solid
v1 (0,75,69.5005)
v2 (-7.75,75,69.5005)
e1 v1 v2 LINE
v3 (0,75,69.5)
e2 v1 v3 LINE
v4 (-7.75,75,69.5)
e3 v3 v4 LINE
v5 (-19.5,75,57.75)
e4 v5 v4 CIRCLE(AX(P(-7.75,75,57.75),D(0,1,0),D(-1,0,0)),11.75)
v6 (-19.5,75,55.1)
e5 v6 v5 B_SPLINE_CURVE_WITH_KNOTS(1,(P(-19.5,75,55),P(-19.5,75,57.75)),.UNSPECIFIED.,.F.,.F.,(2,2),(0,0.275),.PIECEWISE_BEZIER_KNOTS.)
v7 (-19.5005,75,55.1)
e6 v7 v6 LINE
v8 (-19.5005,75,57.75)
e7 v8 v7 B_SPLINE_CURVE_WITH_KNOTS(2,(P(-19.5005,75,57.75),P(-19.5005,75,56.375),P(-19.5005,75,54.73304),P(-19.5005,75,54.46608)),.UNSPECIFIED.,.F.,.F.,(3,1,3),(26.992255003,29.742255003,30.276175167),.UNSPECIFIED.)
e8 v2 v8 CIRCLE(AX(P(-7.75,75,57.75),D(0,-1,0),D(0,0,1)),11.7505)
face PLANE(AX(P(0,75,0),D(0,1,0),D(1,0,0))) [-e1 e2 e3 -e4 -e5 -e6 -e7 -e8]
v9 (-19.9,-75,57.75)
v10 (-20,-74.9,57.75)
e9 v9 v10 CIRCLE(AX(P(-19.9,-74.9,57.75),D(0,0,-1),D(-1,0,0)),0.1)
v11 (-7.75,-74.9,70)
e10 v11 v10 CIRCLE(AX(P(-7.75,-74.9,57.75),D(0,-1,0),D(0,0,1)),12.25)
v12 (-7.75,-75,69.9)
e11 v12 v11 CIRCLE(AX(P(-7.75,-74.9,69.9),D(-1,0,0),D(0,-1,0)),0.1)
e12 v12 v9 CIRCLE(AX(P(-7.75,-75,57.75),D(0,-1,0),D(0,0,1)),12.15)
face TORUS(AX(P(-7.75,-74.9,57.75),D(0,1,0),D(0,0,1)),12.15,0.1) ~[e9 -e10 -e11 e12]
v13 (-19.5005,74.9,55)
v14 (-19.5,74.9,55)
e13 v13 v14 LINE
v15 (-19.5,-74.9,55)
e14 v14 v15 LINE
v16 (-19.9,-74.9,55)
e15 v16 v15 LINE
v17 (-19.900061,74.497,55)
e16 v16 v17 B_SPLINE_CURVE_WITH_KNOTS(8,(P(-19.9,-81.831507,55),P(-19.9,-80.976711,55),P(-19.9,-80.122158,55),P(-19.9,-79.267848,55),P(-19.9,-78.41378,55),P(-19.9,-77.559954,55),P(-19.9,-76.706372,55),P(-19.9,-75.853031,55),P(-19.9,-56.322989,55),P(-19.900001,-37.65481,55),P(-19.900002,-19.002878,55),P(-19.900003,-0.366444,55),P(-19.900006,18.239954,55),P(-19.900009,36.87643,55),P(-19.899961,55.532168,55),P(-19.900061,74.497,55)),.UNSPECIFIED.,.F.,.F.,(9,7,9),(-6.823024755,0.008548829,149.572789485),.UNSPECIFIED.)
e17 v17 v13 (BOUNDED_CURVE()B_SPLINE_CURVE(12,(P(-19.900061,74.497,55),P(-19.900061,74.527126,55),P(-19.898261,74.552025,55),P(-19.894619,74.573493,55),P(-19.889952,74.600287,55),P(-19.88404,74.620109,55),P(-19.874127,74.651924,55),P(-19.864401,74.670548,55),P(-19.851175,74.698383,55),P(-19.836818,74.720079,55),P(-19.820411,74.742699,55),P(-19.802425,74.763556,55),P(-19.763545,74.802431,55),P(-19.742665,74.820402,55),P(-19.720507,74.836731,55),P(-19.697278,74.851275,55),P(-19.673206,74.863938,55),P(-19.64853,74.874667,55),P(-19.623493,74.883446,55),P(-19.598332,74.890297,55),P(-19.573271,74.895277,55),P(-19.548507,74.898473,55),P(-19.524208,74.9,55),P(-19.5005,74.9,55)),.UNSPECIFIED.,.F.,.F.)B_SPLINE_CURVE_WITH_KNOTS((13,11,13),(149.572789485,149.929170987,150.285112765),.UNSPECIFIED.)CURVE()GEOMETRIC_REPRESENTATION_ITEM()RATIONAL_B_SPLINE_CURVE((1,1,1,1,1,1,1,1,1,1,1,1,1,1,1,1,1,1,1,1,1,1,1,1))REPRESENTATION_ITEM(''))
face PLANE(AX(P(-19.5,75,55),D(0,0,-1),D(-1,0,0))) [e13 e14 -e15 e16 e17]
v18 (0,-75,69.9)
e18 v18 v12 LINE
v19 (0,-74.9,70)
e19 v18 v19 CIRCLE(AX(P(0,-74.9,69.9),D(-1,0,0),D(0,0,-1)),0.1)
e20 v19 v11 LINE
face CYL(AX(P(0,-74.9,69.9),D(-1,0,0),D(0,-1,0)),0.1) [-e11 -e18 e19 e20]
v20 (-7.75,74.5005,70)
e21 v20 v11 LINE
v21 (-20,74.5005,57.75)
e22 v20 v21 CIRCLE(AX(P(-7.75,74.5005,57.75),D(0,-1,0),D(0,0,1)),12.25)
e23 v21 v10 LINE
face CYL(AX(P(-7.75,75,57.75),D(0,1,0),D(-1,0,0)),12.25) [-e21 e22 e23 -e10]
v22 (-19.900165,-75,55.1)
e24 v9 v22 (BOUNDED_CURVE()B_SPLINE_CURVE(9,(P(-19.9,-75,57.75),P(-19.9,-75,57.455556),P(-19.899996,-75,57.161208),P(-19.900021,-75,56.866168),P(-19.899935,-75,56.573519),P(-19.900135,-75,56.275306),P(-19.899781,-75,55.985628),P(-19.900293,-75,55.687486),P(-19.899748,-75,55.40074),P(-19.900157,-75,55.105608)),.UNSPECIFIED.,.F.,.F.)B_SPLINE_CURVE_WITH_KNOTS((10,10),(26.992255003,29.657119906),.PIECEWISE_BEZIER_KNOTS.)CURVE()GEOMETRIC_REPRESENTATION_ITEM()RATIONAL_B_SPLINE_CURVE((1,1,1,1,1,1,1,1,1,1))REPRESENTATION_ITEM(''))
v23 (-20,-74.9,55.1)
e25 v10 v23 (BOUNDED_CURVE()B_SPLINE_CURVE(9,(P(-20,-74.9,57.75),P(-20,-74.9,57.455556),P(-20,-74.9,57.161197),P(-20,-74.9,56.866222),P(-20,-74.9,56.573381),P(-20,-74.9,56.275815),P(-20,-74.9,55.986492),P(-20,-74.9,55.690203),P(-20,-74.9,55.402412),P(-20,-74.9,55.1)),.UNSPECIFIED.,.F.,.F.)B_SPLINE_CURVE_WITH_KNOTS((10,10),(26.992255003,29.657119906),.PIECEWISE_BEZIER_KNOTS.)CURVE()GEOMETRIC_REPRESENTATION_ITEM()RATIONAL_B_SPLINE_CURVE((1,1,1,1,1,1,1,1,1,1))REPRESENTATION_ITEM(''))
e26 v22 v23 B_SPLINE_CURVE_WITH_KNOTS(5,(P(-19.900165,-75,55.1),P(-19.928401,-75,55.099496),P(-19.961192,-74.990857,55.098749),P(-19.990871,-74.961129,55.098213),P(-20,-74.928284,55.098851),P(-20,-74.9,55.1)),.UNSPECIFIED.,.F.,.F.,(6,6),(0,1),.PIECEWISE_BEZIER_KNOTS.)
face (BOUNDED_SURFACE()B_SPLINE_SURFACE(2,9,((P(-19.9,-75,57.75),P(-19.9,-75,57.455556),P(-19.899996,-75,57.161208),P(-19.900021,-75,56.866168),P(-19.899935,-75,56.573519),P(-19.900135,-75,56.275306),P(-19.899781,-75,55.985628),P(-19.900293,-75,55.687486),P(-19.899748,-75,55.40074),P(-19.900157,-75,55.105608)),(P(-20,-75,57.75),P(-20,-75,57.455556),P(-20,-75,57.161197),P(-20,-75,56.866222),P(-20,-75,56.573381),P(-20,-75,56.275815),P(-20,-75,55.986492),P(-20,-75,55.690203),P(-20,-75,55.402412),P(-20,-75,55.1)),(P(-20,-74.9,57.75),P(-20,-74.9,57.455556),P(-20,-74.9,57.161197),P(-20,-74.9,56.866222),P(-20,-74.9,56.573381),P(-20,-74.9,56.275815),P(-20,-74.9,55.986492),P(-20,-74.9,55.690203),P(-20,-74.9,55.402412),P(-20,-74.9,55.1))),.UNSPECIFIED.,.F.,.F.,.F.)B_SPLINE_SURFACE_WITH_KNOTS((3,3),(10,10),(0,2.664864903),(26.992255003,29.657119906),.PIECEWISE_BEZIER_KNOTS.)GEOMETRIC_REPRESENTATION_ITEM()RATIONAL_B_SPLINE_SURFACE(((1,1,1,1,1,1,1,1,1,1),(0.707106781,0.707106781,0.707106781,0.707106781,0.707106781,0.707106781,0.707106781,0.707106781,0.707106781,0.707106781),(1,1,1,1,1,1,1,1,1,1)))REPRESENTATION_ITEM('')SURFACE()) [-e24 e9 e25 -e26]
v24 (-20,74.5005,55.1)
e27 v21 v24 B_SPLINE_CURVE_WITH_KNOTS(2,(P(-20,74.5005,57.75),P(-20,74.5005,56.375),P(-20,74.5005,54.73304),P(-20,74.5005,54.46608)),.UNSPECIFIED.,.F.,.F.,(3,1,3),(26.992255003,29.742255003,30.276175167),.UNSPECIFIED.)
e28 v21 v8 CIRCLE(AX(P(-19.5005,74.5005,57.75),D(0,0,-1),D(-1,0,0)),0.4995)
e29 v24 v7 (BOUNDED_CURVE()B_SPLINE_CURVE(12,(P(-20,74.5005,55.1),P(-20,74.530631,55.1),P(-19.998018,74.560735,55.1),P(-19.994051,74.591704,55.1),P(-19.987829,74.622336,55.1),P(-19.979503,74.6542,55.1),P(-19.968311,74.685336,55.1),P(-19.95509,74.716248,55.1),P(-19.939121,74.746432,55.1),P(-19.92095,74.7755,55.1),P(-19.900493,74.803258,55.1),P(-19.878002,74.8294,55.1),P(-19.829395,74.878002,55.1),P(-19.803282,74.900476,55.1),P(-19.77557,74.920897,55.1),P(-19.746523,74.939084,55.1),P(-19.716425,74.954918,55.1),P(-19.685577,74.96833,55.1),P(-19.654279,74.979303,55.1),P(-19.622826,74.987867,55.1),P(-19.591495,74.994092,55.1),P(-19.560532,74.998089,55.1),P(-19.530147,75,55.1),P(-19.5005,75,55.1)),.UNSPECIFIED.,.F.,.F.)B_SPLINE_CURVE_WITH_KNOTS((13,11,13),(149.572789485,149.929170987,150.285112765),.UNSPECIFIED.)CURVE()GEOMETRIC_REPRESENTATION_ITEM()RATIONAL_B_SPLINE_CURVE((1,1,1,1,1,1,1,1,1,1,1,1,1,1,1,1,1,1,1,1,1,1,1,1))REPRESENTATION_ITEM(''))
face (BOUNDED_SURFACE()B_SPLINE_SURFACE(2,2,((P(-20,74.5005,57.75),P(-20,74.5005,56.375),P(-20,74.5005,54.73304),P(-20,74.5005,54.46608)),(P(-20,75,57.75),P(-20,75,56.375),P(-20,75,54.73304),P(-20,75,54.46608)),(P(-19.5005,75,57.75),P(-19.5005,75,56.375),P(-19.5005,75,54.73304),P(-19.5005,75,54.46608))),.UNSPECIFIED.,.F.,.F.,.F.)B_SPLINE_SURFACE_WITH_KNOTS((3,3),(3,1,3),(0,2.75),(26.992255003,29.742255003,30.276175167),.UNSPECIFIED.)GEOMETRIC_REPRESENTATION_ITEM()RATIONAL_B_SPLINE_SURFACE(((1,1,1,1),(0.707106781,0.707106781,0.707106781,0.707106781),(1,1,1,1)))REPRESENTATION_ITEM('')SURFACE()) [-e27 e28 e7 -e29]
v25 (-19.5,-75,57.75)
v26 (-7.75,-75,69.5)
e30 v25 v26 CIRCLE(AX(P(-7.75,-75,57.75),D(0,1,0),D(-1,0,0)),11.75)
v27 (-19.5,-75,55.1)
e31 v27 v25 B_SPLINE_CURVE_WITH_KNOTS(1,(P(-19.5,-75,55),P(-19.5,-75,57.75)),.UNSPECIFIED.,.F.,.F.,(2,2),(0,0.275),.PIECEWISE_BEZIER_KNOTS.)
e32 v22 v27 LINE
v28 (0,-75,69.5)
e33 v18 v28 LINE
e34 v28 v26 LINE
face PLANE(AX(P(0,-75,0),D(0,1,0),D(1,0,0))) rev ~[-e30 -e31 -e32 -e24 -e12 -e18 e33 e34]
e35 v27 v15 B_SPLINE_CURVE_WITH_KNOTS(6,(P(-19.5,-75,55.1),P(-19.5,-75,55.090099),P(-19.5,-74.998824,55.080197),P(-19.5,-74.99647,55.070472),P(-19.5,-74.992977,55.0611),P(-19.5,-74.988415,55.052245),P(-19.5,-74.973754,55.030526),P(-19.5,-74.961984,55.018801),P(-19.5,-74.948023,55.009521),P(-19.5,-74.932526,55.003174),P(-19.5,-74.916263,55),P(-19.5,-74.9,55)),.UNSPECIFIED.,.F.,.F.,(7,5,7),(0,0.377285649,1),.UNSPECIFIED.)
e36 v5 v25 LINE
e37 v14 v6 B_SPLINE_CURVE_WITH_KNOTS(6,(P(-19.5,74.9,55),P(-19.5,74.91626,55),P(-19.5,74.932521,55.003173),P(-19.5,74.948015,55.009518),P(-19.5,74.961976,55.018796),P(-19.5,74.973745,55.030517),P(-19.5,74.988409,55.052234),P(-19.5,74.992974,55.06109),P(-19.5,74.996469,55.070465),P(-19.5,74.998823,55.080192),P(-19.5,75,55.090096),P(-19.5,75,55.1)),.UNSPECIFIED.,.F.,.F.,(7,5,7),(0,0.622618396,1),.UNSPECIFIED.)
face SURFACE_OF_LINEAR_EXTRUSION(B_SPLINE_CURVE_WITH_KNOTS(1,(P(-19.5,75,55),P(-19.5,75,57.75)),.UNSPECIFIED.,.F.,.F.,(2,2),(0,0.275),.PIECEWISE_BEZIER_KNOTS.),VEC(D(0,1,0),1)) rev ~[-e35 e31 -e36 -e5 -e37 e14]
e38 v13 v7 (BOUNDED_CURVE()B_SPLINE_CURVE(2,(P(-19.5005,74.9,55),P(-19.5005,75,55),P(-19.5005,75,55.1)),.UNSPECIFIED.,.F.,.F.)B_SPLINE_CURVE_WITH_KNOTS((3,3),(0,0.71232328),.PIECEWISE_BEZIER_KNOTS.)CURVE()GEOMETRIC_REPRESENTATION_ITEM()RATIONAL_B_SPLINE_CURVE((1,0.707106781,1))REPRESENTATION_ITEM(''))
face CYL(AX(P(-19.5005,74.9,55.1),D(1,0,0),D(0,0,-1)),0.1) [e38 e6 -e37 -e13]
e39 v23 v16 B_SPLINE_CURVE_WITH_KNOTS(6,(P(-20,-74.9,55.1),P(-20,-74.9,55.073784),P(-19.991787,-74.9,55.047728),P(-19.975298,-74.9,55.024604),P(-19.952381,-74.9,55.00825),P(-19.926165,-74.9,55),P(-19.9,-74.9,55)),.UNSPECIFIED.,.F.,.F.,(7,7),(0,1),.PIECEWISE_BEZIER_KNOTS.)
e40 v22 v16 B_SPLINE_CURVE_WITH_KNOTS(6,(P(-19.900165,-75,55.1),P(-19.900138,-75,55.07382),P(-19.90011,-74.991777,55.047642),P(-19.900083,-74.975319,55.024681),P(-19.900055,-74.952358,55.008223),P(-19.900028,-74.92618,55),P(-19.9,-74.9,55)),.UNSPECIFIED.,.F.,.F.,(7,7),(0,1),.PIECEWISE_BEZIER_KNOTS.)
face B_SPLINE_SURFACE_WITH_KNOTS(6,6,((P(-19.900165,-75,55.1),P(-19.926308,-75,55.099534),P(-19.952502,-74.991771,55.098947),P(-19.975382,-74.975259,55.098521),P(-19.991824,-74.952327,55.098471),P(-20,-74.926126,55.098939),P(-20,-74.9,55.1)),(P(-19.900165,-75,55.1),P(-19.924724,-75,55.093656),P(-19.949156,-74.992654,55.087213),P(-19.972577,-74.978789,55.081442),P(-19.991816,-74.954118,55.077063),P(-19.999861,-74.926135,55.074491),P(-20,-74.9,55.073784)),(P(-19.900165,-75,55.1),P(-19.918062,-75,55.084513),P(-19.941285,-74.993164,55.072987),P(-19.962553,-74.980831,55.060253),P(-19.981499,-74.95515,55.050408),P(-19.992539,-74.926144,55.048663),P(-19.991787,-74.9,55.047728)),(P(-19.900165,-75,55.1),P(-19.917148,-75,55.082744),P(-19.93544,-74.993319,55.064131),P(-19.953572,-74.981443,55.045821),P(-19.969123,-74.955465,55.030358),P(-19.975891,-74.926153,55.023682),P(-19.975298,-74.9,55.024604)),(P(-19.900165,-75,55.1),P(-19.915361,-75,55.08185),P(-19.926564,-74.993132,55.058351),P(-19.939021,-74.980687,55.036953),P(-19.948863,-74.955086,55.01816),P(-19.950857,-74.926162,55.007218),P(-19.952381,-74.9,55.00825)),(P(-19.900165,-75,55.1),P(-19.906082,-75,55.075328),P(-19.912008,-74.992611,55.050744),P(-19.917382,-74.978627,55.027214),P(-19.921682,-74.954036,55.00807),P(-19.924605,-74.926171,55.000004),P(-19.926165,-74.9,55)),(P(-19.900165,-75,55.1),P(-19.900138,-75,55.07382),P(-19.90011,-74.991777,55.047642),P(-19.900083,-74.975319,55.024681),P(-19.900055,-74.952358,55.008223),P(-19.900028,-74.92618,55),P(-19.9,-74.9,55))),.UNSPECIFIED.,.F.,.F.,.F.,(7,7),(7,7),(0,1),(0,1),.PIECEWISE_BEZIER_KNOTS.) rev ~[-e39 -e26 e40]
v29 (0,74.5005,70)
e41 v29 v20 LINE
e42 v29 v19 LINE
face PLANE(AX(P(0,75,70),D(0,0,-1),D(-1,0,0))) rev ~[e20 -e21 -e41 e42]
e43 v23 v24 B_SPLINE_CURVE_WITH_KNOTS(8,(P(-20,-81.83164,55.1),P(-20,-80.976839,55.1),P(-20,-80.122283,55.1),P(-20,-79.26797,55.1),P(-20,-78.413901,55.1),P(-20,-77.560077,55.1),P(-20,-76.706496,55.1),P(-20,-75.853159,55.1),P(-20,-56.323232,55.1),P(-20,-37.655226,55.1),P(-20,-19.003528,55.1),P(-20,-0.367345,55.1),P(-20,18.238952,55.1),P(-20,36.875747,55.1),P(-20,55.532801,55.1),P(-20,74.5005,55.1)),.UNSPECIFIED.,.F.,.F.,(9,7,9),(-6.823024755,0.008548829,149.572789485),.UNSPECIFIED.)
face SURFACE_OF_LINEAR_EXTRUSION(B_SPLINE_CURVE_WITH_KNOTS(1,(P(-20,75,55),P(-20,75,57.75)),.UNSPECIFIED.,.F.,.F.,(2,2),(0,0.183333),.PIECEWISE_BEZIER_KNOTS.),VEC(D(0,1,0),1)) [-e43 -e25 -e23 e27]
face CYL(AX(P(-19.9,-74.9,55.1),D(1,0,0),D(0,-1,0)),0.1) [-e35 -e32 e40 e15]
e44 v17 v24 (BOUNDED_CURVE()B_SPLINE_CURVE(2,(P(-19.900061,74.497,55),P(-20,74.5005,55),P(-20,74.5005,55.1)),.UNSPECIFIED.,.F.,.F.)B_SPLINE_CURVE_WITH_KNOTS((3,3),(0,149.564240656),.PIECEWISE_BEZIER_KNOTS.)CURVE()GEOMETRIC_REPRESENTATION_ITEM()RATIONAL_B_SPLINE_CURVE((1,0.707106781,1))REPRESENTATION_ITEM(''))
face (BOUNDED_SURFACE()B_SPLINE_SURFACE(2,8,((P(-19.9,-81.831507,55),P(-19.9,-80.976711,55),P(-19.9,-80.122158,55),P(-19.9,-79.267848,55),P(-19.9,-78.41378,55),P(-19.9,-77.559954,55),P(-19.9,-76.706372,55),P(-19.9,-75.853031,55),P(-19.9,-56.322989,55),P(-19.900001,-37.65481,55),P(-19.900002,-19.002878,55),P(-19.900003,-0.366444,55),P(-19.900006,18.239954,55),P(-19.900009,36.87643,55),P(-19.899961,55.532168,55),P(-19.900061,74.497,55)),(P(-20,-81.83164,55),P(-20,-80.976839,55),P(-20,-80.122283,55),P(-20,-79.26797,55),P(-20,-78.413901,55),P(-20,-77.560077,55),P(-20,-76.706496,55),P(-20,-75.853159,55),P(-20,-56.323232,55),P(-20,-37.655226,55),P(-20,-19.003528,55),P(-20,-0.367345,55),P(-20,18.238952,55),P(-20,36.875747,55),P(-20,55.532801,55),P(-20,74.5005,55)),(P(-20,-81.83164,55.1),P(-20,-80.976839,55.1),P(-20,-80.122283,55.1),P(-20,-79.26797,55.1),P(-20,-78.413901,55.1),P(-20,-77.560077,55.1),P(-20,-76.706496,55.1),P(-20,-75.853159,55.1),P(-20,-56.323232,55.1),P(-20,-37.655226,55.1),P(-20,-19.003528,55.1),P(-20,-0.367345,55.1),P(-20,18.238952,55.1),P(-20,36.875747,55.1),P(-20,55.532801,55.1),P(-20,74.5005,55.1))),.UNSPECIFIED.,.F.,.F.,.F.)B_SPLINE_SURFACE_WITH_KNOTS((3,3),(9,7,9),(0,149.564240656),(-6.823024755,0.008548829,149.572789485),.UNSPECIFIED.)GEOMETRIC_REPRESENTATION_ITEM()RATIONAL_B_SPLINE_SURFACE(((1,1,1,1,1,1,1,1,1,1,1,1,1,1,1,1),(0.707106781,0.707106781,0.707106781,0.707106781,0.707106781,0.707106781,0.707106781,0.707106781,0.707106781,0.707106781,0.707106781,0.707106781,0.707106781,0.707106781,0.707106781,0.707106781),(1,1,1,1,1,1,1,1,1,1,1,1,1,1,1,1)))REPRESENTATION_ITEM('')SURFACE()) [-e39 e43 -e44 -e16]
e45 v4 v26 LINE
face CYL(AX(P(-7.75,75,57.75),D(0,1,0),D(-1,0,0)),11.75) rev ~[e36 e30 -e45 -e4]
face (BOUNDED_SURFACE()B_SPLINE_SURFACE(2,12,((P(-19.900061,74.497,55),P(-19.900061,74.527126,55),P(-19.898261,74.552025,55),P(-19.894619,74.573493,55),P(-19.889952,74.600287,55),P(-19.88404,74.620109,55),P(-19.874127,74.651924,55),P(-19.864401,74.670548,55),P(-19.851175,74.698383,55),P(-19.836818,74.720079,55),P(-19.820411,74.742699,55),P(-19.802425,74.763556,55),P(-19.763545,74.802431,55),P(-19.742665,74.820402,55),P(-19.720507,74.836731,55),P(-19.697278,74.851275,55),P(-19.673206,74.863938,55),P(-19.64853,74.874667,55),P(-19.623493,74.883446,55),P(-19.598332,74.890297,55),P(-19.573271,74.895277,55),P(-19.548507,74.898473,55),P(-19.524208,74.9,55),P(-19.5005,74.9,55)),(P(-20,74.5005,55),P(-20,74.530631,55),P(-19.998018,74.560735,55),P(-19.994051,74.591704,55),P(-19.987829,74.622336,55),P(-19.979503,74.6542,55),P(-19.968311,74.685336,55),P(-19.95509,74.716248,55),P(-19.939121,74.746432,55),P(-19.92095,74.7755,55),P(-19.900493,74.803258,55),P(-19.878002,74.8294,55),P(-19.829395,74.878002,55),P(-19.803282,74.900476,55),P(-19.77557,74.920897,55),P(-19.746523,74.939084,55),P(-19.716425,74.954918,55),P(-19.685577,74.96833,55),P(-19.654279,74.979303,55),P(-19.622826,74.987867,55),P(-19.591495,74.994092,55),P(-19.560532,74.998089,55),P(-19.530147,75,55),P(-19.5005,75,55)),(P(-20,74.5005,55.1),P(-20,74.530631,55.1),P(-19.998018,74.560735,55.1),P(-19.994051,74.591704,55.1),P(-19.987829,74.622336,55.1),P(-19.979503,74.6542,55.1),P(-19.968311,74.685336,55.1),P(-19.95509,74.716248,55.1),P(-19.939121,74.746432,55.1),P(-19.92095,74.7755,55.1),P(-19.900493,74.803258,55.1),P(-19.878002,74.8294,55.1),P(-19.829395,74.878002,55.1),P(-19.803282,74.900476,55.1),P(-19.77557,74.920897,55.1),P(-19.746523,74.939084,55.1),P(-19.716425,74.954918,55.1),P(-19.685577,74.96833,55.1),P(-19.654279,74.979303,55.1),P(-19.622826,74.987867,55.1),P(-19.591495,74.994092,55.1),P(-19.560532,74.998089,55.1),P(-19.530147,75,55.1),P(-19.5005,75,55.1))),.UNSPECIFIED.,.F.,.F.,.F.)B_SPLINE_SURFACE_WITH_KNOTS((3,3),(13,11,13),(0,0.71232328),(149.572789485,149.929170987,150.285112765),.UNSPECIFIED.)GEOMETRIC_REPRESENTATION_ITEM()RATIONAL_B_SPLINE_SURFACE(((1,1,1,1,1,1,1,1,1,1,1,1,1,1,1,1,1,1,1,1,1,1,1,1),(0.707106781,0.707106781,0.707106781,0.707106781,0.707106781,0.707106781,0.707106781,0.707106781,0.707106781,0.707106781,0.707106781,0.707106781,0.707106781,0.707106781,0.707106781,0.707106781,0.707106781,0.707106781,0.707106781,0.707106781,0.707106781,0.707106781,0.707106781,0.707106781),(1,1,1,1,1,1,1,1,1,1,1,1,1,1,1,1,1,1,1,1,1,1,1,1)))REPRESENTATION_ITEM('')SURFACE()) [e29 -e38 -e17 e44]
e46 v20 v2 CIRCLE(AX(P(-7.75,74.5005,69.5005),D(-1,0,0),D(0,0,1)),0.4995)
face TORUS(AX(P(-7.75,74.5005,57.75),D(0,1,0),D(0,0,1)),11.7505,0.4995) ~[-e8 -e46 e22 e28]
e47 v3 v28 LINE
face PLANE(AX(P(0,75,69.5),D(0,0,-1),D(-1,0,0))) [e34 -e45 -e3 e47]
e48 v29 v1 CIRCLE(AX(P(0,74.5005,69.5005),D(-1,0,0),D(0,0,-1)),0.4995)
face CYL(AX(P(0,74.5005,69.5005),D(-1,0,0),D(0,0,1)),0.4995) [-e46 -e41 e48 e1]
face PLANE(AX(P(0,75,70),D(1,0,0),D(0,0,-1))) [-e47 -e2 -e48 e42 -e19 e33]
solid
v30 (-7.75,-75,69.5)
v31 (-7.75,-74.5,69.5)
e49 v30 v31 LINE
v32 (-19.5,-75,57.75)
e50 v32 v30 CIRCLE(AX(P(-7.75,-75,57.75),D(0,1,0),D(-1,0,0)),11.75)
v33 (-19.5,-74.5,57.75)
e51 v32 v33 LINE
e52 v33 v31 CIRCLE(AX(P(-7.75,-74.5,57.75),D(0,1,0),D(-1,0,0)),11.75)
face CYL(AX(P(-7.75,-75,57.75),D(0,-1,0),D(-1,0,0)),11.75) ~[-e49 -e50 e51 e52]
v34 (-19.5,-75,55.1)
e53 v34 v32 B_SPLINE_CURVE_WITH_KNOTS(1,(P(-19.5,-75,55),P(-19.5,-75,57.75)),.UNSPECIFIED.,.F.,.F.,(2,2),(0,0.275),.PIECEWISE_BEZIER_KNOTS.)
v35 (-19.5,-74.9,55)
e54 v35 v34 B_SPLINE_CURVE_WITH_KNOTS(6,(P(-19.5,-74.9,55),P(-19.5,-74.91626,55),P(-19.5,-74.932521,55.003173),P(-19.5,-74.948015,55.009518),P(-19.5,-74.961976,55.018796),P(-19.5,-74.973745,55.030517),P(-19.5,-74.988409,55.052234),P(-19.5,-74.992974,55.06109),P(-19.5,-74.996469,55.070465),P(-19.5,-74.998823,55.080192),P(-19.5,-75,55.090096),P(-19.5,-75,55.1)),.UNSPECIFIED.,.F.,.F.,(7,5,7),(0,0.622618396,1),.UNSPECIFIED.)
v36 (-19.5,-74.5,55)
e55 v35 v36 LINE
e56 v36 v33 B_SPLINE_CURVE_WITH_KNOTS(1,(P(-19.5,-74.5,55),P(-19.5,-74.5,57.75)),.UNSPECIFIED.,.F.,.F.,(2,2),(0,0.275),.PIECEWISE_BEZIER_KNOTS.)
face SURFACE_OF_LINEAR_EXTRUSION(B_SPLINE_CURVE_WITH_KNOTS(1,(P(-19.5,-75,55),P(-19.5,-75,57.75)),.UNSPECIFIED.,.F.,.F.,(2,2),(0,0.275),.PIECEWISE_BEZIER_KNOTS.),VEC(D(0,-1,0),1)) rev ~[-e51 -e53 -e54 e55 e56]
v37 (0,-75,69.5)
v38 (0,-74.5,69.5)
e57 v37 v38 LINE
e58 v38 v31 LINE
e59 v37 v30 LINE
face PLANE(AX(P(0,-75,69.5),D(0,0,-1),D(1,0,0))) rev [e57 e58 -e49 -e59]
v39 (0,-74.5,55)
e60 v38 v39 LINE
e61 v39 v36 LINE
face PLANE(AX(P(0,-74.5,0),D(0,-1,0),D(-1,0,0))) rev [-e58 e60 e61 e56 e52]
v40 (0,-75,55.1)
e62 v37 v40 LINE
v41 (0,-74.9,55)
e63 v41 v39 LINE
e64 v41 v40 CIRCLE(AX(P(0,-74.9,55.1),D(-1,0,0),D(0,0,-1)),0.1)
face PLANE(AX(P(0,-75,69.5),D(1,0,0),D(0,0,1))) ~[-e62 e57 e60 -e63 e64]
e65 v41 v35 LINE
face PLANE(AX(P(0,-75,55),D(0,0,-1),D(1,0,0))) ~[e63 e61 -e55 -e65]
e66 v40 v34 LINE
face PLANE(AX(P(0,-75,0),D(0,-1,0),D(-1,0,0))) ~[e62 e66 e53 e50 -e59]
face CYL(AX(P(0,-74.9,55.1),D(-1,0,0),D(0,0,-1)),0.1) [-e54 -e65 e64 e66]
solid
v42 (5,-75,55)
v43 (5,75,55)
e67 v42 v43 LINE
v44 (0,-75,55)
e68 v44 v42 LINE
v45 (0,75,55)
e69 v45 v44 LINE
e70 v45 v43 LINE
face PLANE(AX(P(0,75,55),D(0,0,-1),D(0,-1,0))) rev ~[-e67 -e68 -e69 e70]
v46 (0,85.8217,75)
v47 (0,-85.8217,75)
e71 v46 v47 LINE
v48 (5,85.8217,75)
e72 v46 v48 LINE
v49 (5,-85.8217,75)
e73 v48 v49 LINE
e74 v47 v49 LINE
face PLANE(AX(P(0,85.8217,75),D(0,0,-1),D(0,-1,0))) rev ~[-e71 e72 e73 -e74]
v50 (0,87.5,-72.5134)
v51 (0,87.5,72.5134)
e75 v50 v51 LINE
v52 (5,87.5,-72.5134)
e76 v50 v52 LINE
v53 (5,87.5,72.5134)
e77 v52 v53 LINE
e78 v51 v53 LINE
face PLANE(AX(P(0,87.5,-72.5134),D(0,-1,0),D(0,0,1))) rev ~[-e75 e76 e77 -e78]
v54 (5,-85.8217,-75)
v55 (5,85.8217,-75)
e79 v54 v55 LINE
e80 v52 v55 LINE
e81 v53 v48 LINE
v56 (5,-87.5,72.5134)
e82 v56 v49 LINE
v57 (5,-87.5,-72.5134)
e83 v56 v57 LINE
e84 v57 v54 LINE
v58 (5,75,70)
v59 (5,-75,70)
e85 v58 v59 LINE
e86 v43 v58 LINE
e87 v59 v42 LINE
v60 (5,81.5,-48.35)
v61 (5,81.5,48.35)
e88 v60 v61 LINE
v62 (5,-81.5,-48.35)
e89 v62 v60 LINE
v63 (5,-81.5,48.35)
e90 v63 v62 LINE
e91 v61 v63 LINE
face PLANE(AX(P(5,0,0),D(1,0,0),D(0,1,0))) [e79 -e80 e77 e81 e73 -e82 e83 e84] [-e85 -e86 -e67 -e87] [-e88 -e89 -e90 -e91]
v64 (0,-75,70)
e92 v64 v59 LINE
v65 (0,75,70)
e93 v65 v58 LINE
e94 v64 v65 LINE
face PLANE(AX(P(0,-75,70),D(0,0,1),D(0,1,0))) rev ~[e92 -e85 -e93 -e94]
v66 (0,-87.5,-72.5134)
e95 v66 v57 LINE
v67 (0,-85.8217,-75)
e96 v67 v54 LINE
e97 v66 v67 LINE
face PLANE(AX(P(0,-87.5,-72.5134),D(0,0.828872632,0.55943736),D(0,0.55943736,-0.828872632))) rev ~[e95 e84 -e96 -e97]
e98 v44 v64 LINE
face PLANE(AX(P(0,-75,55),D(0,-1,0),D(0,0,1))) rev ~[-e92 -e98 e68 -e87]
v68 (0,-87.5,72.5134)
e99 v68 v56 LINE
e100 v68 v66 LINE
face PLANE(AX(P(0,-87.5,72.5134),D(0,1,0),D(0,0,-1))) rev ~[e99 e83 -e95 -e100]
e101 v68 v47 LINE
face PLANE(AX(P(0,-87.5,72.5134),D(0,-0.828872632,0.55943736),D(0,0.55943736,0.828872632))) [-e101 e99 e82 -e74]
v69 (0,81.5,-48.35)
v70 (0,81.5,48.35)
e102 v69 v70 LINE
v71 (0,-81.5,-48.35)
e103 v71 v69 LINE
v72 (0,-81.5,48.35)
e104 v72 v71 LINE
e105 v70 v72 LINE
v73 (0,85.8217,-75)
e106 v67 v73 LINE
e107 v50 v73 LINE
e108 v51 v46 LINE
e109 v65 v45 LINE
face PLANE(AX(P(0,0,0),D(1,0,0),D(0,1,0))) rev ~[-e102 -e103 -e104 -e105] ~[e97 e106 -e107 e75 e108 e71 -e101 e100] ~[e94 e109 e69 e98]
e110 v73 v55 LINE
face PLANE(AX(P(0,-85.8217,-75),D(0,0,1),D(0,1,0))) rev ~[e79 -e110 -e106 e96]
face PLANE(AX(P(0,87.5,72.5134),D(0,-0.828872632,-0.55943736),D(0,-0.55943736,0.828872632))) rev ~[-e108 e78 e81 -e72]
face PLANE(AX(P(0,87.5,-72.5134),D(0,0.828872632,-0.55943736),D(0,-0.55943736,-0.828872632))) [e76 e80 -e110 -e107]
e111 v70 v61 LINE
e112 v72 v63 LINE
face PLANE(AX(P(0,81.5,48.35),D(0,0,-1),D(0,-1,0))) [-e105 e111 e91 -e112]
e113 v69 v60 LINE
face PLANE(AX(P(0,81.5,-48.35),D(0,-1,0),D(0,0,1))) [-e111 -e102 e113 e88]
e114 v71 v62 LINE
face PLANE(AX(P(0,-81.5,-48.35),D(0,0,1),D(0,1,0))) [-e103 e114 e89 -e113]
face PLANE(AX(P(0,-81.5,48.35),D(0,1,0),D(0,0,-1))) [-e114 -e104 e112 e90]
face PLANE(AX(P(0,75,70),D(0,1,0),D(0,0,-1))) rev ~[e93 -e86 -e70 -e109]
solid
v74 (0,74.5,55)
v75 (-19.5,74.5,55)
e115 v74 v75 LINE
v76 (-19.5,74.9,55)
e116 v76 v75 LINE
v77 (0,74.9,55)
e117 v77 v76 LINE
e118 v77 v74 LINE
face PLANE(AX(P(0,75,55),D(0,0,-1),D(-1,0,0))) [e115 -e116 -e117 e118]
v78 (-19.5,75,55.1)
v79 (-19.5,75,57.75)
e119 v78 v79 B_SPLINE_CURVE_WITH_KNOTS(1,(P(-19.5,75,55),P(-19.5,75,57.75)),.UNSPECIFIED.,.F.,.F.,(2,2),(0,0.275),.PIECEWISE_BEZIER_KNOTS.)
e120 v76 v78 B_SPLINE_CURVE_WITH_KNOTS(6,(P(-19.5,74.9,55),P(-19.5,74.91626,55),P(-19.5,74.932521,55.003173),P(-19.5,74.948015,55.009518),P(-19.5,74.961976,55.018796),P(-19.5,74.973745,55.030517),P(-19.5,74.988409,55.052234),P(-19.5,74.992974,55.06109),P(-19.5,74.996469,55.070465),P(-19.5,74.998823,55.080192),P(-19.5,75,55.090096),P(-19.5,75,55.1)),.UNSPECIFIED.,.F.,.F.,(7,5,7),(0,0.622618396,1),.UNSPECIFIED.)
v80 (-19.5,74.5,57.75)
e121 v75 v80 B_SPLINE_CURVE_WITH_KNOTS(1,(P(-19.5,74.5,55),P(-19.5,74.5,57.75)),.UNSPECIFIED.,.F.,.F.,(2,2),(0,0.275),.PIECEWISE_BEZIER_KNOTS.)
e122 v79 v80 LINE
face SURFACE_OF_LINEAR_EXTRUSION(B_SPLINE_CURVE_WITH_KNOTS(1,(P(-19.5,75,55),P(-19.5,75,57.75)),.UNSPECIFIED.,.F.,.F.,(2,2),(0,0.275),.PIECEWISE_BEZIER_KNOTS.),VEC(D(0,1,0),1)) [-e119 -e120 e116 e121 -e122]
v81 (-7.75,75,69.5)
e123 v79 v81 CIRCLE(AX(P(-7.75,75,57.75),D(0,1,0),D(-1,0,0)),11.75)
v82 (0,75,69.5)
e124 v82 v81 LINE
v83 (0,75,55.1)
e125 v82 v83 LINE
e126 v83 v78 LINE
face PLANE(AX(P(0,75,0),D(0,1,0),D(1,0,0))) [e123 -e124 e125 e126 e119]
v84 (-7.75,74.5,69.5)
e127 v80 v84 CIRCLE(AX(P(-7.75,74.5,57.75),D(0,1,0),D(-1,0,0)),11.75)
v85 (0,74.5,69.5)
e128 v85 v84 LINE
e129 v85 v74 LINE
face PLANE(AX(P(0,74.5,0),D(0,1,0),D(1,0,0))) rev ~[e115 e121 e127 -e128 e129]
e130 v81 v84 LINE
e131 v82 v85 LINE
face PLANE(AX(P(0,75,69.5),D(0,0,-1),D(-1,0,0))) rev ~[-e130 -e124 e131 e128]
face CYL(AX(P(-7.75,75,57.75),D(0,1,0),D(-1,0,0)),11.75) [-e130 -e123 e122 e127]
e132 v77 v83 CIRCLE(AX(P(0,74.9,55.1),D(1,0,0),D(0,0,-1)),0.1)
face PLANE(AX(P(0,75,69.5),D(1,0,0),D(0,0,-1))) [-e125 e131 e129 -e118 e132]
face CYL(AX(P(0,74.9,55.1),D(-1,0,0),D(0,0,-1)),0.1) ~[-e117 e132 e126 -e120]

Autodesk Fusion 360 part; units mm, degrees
sketch "Sketch1" plane through (0, 0, 0) normal (1, 0, 0) x (0, 1, 0)
  line L0 (87.5, 75) -> (-87.5, 75)
  line L1 (-87.5, 75) -> (-87.5, -75)
  line L2 (-87.5, -75) -> (87.5, -75)
  line L3 (87.5, -75) -> (87.5, 75)
  line L4 (87.5, 75) -> (-87.5, -75) construction
  line L5 (-87.5, 75) -> (87.5, -75) construction
  line L6 (-87.5, 72.5134) -> (-85.8217, 75)
  line L7 (0, 75) -> (0, -75) construction
  line L8 (-87.5, 0) -> (87.5, 0) construction
  line L9 (87.5, 72.5134) -> (85.8217, 75)
  line L10 (87.5, -72.5134) -> (85.8217, -75)
  line L11 (-87.5, -72.5134) -> (-85.8217, -75)
  line L12 (81.5, 48.35) -> (-81.5, 48.35)
  line L13 (-81.5, 48.35) -> (-81.5, -48.35)
  line L14 (-81.5, -48.35) -> (81.5, -48.35)
  line L15 (81.5, -48.35) -> (81.5, 48.35)
  line L16 (81.5, 48.35) -> (-81.5, -48.35) construction
  line L17 (-81.5, 48.35) -> (81.5, -48.35) construction
  line L18 (75, 55) -> (-75, 55)
  line L19 (-75, 55) -> (-75, 70)
  line L20 (-75, 70) -> (75, 70)
  line L21 (75, 70) -> (75, 55)
  line L22 (75, 55) -> (-75, 70) construction
  line L23 (-75, 55) -> (75, 70) construction
  point P0 (0, 62.5)
  dimension "d1" = 175
  dimension "d2" = 150
  dimension "d3" = 3
  dimension "d4" = 163
  dimension "d5" = 96.7
  dimension "d8" = 150
  dimension "d9" = 15
  dimension "d10" = 5
extrude "Extrude1" add sketch "Sketch1" along normal blind 5 contours L0 L1 L2 L3 L6 L9 L10 L11 | L18 L19 L20 L21 makes body 1
extrude "Extrude2" cut sketch "Sketch1" along normal blind 10 contours L18 L19 L20 L21 bodies 1
sketch "Sketch2" plane through (0, 0, 0) normal (-1, 0, 0) x (0, -1, 0)
  line L0 (-75, 55) -> (-75, 70)
  line L1 (-75, 70) -> (75, 70)
  line L2 (75, 70) -> (75, 55)
  line L3 (75, 55) -> (-75, 55)
  line L4 (-81.5, -48.35) -> (-81.5, 48.35)
  line L5 (-81.5, 48.35) -> (81.5, 48.35)
  line L6 (81.5, 48.35) -> (81.5, -48.35)
  line L7 (81.5, -48.35) -> (-81.5, -48.35)
  line L8 (87.5, -72.5134) -> (87.5, 72.5134)
  line L9 (87.5, 72.5134) -> (85.8217, 75)
  line L10 (85.8217, 75) -> (-85.8217, 75)
  line L11 (-85.8217, 75) -> (-87.5, 72.5134)
  line L12 (-87.5, 72.5134) -> (-87.5, -72.5134)
  line L13 (-87.5, -72.5134) -> (-85.8217, -75)
  line L14 (-85.8217, -75) -> (85.8217, -75)
  line L15 (85.8217, -75) -> (87.5, -72.5134)
ref_plane "WorkPlane1" through (0, 75, 0) normal (0, 1, 0) x (0, 0, 1)
sketch "Sketch3" plane through (0, 75, 0) normal (0, 1, 0) x (1, 0, 0)
  line L0 (0, -55) -> (-20, -55)
  line L1 (0, -70) -> (-7.75, -70)
  spline S0 degree 1 poles (-20, -55) (-20, -57.75) knots 0 0 0.183333 0.183333
  arc A0 (-20, -57.75) -> (-7.75, -70) centre (-7.75, -57.75) ccw
  line L2 (-20, -55) -> (-20, -57.75) construction
  line L3 (0, -70) -> (0, -55)
  line L4 (0, -69.5) -> (-7.75, -69.5)
  arc A1 (-19.5, -57.75) -> (-7.75, -69.5) centre (-7.75, -57.75) ccw
  spline S1 degree 1 poles (-19.5, -55) (-19.5, -57.75) knots 0 0 0.275 0.275
  point P0 (0, -70)
  point P1 (0, -55)
  dimension "d14" = 20
  dimension "d15" = 12.25
  dimension "d16" = -0.5
  dimension "d17" = -0.5
extrude "Extrude3" add sketch "Sketch3" against normal blind 150 separate body contours L0 L1 S0 A0 L3 L4 A1 S1 makes body 2
extrude "Extrude4" add sketch "Sketch3" against normal blind 0.5 separate body contours L0 L3 L4 A1 S1 makes body 3
mirror "Mirror1" about plane through (0, 0, 0) normal (0, 1, 0) of bodies 3 makes body 4
fillet "Fillet1" radius 0.5 3 edges at (-3.875, 75, 70) (-16.4121, 75, 66.4121) (-20, 75, 56.375) on bodies 2
fillet "Fillet2" radius 0.1 1 edges at (-9.75, 75, 55) on bodies 3
fillet "Fillet3" radius 0.1 2 edges at (-19.8536, 74.8536, 55) (-20, -0.25, 55) on bodies 2
fillet "Fillet4" radius 0.1 1 edges at (-9.75, -75, 55) on bodies 4
fillet "Fillet5" radius 0.1 5 edges at (-3.875, -75, 70) (-16.4121, -75, 66.4121) (-20, -75, 56.425) (-19.9707, -75, 55.0293) (-19.7, -75, 55) on bodies 2
